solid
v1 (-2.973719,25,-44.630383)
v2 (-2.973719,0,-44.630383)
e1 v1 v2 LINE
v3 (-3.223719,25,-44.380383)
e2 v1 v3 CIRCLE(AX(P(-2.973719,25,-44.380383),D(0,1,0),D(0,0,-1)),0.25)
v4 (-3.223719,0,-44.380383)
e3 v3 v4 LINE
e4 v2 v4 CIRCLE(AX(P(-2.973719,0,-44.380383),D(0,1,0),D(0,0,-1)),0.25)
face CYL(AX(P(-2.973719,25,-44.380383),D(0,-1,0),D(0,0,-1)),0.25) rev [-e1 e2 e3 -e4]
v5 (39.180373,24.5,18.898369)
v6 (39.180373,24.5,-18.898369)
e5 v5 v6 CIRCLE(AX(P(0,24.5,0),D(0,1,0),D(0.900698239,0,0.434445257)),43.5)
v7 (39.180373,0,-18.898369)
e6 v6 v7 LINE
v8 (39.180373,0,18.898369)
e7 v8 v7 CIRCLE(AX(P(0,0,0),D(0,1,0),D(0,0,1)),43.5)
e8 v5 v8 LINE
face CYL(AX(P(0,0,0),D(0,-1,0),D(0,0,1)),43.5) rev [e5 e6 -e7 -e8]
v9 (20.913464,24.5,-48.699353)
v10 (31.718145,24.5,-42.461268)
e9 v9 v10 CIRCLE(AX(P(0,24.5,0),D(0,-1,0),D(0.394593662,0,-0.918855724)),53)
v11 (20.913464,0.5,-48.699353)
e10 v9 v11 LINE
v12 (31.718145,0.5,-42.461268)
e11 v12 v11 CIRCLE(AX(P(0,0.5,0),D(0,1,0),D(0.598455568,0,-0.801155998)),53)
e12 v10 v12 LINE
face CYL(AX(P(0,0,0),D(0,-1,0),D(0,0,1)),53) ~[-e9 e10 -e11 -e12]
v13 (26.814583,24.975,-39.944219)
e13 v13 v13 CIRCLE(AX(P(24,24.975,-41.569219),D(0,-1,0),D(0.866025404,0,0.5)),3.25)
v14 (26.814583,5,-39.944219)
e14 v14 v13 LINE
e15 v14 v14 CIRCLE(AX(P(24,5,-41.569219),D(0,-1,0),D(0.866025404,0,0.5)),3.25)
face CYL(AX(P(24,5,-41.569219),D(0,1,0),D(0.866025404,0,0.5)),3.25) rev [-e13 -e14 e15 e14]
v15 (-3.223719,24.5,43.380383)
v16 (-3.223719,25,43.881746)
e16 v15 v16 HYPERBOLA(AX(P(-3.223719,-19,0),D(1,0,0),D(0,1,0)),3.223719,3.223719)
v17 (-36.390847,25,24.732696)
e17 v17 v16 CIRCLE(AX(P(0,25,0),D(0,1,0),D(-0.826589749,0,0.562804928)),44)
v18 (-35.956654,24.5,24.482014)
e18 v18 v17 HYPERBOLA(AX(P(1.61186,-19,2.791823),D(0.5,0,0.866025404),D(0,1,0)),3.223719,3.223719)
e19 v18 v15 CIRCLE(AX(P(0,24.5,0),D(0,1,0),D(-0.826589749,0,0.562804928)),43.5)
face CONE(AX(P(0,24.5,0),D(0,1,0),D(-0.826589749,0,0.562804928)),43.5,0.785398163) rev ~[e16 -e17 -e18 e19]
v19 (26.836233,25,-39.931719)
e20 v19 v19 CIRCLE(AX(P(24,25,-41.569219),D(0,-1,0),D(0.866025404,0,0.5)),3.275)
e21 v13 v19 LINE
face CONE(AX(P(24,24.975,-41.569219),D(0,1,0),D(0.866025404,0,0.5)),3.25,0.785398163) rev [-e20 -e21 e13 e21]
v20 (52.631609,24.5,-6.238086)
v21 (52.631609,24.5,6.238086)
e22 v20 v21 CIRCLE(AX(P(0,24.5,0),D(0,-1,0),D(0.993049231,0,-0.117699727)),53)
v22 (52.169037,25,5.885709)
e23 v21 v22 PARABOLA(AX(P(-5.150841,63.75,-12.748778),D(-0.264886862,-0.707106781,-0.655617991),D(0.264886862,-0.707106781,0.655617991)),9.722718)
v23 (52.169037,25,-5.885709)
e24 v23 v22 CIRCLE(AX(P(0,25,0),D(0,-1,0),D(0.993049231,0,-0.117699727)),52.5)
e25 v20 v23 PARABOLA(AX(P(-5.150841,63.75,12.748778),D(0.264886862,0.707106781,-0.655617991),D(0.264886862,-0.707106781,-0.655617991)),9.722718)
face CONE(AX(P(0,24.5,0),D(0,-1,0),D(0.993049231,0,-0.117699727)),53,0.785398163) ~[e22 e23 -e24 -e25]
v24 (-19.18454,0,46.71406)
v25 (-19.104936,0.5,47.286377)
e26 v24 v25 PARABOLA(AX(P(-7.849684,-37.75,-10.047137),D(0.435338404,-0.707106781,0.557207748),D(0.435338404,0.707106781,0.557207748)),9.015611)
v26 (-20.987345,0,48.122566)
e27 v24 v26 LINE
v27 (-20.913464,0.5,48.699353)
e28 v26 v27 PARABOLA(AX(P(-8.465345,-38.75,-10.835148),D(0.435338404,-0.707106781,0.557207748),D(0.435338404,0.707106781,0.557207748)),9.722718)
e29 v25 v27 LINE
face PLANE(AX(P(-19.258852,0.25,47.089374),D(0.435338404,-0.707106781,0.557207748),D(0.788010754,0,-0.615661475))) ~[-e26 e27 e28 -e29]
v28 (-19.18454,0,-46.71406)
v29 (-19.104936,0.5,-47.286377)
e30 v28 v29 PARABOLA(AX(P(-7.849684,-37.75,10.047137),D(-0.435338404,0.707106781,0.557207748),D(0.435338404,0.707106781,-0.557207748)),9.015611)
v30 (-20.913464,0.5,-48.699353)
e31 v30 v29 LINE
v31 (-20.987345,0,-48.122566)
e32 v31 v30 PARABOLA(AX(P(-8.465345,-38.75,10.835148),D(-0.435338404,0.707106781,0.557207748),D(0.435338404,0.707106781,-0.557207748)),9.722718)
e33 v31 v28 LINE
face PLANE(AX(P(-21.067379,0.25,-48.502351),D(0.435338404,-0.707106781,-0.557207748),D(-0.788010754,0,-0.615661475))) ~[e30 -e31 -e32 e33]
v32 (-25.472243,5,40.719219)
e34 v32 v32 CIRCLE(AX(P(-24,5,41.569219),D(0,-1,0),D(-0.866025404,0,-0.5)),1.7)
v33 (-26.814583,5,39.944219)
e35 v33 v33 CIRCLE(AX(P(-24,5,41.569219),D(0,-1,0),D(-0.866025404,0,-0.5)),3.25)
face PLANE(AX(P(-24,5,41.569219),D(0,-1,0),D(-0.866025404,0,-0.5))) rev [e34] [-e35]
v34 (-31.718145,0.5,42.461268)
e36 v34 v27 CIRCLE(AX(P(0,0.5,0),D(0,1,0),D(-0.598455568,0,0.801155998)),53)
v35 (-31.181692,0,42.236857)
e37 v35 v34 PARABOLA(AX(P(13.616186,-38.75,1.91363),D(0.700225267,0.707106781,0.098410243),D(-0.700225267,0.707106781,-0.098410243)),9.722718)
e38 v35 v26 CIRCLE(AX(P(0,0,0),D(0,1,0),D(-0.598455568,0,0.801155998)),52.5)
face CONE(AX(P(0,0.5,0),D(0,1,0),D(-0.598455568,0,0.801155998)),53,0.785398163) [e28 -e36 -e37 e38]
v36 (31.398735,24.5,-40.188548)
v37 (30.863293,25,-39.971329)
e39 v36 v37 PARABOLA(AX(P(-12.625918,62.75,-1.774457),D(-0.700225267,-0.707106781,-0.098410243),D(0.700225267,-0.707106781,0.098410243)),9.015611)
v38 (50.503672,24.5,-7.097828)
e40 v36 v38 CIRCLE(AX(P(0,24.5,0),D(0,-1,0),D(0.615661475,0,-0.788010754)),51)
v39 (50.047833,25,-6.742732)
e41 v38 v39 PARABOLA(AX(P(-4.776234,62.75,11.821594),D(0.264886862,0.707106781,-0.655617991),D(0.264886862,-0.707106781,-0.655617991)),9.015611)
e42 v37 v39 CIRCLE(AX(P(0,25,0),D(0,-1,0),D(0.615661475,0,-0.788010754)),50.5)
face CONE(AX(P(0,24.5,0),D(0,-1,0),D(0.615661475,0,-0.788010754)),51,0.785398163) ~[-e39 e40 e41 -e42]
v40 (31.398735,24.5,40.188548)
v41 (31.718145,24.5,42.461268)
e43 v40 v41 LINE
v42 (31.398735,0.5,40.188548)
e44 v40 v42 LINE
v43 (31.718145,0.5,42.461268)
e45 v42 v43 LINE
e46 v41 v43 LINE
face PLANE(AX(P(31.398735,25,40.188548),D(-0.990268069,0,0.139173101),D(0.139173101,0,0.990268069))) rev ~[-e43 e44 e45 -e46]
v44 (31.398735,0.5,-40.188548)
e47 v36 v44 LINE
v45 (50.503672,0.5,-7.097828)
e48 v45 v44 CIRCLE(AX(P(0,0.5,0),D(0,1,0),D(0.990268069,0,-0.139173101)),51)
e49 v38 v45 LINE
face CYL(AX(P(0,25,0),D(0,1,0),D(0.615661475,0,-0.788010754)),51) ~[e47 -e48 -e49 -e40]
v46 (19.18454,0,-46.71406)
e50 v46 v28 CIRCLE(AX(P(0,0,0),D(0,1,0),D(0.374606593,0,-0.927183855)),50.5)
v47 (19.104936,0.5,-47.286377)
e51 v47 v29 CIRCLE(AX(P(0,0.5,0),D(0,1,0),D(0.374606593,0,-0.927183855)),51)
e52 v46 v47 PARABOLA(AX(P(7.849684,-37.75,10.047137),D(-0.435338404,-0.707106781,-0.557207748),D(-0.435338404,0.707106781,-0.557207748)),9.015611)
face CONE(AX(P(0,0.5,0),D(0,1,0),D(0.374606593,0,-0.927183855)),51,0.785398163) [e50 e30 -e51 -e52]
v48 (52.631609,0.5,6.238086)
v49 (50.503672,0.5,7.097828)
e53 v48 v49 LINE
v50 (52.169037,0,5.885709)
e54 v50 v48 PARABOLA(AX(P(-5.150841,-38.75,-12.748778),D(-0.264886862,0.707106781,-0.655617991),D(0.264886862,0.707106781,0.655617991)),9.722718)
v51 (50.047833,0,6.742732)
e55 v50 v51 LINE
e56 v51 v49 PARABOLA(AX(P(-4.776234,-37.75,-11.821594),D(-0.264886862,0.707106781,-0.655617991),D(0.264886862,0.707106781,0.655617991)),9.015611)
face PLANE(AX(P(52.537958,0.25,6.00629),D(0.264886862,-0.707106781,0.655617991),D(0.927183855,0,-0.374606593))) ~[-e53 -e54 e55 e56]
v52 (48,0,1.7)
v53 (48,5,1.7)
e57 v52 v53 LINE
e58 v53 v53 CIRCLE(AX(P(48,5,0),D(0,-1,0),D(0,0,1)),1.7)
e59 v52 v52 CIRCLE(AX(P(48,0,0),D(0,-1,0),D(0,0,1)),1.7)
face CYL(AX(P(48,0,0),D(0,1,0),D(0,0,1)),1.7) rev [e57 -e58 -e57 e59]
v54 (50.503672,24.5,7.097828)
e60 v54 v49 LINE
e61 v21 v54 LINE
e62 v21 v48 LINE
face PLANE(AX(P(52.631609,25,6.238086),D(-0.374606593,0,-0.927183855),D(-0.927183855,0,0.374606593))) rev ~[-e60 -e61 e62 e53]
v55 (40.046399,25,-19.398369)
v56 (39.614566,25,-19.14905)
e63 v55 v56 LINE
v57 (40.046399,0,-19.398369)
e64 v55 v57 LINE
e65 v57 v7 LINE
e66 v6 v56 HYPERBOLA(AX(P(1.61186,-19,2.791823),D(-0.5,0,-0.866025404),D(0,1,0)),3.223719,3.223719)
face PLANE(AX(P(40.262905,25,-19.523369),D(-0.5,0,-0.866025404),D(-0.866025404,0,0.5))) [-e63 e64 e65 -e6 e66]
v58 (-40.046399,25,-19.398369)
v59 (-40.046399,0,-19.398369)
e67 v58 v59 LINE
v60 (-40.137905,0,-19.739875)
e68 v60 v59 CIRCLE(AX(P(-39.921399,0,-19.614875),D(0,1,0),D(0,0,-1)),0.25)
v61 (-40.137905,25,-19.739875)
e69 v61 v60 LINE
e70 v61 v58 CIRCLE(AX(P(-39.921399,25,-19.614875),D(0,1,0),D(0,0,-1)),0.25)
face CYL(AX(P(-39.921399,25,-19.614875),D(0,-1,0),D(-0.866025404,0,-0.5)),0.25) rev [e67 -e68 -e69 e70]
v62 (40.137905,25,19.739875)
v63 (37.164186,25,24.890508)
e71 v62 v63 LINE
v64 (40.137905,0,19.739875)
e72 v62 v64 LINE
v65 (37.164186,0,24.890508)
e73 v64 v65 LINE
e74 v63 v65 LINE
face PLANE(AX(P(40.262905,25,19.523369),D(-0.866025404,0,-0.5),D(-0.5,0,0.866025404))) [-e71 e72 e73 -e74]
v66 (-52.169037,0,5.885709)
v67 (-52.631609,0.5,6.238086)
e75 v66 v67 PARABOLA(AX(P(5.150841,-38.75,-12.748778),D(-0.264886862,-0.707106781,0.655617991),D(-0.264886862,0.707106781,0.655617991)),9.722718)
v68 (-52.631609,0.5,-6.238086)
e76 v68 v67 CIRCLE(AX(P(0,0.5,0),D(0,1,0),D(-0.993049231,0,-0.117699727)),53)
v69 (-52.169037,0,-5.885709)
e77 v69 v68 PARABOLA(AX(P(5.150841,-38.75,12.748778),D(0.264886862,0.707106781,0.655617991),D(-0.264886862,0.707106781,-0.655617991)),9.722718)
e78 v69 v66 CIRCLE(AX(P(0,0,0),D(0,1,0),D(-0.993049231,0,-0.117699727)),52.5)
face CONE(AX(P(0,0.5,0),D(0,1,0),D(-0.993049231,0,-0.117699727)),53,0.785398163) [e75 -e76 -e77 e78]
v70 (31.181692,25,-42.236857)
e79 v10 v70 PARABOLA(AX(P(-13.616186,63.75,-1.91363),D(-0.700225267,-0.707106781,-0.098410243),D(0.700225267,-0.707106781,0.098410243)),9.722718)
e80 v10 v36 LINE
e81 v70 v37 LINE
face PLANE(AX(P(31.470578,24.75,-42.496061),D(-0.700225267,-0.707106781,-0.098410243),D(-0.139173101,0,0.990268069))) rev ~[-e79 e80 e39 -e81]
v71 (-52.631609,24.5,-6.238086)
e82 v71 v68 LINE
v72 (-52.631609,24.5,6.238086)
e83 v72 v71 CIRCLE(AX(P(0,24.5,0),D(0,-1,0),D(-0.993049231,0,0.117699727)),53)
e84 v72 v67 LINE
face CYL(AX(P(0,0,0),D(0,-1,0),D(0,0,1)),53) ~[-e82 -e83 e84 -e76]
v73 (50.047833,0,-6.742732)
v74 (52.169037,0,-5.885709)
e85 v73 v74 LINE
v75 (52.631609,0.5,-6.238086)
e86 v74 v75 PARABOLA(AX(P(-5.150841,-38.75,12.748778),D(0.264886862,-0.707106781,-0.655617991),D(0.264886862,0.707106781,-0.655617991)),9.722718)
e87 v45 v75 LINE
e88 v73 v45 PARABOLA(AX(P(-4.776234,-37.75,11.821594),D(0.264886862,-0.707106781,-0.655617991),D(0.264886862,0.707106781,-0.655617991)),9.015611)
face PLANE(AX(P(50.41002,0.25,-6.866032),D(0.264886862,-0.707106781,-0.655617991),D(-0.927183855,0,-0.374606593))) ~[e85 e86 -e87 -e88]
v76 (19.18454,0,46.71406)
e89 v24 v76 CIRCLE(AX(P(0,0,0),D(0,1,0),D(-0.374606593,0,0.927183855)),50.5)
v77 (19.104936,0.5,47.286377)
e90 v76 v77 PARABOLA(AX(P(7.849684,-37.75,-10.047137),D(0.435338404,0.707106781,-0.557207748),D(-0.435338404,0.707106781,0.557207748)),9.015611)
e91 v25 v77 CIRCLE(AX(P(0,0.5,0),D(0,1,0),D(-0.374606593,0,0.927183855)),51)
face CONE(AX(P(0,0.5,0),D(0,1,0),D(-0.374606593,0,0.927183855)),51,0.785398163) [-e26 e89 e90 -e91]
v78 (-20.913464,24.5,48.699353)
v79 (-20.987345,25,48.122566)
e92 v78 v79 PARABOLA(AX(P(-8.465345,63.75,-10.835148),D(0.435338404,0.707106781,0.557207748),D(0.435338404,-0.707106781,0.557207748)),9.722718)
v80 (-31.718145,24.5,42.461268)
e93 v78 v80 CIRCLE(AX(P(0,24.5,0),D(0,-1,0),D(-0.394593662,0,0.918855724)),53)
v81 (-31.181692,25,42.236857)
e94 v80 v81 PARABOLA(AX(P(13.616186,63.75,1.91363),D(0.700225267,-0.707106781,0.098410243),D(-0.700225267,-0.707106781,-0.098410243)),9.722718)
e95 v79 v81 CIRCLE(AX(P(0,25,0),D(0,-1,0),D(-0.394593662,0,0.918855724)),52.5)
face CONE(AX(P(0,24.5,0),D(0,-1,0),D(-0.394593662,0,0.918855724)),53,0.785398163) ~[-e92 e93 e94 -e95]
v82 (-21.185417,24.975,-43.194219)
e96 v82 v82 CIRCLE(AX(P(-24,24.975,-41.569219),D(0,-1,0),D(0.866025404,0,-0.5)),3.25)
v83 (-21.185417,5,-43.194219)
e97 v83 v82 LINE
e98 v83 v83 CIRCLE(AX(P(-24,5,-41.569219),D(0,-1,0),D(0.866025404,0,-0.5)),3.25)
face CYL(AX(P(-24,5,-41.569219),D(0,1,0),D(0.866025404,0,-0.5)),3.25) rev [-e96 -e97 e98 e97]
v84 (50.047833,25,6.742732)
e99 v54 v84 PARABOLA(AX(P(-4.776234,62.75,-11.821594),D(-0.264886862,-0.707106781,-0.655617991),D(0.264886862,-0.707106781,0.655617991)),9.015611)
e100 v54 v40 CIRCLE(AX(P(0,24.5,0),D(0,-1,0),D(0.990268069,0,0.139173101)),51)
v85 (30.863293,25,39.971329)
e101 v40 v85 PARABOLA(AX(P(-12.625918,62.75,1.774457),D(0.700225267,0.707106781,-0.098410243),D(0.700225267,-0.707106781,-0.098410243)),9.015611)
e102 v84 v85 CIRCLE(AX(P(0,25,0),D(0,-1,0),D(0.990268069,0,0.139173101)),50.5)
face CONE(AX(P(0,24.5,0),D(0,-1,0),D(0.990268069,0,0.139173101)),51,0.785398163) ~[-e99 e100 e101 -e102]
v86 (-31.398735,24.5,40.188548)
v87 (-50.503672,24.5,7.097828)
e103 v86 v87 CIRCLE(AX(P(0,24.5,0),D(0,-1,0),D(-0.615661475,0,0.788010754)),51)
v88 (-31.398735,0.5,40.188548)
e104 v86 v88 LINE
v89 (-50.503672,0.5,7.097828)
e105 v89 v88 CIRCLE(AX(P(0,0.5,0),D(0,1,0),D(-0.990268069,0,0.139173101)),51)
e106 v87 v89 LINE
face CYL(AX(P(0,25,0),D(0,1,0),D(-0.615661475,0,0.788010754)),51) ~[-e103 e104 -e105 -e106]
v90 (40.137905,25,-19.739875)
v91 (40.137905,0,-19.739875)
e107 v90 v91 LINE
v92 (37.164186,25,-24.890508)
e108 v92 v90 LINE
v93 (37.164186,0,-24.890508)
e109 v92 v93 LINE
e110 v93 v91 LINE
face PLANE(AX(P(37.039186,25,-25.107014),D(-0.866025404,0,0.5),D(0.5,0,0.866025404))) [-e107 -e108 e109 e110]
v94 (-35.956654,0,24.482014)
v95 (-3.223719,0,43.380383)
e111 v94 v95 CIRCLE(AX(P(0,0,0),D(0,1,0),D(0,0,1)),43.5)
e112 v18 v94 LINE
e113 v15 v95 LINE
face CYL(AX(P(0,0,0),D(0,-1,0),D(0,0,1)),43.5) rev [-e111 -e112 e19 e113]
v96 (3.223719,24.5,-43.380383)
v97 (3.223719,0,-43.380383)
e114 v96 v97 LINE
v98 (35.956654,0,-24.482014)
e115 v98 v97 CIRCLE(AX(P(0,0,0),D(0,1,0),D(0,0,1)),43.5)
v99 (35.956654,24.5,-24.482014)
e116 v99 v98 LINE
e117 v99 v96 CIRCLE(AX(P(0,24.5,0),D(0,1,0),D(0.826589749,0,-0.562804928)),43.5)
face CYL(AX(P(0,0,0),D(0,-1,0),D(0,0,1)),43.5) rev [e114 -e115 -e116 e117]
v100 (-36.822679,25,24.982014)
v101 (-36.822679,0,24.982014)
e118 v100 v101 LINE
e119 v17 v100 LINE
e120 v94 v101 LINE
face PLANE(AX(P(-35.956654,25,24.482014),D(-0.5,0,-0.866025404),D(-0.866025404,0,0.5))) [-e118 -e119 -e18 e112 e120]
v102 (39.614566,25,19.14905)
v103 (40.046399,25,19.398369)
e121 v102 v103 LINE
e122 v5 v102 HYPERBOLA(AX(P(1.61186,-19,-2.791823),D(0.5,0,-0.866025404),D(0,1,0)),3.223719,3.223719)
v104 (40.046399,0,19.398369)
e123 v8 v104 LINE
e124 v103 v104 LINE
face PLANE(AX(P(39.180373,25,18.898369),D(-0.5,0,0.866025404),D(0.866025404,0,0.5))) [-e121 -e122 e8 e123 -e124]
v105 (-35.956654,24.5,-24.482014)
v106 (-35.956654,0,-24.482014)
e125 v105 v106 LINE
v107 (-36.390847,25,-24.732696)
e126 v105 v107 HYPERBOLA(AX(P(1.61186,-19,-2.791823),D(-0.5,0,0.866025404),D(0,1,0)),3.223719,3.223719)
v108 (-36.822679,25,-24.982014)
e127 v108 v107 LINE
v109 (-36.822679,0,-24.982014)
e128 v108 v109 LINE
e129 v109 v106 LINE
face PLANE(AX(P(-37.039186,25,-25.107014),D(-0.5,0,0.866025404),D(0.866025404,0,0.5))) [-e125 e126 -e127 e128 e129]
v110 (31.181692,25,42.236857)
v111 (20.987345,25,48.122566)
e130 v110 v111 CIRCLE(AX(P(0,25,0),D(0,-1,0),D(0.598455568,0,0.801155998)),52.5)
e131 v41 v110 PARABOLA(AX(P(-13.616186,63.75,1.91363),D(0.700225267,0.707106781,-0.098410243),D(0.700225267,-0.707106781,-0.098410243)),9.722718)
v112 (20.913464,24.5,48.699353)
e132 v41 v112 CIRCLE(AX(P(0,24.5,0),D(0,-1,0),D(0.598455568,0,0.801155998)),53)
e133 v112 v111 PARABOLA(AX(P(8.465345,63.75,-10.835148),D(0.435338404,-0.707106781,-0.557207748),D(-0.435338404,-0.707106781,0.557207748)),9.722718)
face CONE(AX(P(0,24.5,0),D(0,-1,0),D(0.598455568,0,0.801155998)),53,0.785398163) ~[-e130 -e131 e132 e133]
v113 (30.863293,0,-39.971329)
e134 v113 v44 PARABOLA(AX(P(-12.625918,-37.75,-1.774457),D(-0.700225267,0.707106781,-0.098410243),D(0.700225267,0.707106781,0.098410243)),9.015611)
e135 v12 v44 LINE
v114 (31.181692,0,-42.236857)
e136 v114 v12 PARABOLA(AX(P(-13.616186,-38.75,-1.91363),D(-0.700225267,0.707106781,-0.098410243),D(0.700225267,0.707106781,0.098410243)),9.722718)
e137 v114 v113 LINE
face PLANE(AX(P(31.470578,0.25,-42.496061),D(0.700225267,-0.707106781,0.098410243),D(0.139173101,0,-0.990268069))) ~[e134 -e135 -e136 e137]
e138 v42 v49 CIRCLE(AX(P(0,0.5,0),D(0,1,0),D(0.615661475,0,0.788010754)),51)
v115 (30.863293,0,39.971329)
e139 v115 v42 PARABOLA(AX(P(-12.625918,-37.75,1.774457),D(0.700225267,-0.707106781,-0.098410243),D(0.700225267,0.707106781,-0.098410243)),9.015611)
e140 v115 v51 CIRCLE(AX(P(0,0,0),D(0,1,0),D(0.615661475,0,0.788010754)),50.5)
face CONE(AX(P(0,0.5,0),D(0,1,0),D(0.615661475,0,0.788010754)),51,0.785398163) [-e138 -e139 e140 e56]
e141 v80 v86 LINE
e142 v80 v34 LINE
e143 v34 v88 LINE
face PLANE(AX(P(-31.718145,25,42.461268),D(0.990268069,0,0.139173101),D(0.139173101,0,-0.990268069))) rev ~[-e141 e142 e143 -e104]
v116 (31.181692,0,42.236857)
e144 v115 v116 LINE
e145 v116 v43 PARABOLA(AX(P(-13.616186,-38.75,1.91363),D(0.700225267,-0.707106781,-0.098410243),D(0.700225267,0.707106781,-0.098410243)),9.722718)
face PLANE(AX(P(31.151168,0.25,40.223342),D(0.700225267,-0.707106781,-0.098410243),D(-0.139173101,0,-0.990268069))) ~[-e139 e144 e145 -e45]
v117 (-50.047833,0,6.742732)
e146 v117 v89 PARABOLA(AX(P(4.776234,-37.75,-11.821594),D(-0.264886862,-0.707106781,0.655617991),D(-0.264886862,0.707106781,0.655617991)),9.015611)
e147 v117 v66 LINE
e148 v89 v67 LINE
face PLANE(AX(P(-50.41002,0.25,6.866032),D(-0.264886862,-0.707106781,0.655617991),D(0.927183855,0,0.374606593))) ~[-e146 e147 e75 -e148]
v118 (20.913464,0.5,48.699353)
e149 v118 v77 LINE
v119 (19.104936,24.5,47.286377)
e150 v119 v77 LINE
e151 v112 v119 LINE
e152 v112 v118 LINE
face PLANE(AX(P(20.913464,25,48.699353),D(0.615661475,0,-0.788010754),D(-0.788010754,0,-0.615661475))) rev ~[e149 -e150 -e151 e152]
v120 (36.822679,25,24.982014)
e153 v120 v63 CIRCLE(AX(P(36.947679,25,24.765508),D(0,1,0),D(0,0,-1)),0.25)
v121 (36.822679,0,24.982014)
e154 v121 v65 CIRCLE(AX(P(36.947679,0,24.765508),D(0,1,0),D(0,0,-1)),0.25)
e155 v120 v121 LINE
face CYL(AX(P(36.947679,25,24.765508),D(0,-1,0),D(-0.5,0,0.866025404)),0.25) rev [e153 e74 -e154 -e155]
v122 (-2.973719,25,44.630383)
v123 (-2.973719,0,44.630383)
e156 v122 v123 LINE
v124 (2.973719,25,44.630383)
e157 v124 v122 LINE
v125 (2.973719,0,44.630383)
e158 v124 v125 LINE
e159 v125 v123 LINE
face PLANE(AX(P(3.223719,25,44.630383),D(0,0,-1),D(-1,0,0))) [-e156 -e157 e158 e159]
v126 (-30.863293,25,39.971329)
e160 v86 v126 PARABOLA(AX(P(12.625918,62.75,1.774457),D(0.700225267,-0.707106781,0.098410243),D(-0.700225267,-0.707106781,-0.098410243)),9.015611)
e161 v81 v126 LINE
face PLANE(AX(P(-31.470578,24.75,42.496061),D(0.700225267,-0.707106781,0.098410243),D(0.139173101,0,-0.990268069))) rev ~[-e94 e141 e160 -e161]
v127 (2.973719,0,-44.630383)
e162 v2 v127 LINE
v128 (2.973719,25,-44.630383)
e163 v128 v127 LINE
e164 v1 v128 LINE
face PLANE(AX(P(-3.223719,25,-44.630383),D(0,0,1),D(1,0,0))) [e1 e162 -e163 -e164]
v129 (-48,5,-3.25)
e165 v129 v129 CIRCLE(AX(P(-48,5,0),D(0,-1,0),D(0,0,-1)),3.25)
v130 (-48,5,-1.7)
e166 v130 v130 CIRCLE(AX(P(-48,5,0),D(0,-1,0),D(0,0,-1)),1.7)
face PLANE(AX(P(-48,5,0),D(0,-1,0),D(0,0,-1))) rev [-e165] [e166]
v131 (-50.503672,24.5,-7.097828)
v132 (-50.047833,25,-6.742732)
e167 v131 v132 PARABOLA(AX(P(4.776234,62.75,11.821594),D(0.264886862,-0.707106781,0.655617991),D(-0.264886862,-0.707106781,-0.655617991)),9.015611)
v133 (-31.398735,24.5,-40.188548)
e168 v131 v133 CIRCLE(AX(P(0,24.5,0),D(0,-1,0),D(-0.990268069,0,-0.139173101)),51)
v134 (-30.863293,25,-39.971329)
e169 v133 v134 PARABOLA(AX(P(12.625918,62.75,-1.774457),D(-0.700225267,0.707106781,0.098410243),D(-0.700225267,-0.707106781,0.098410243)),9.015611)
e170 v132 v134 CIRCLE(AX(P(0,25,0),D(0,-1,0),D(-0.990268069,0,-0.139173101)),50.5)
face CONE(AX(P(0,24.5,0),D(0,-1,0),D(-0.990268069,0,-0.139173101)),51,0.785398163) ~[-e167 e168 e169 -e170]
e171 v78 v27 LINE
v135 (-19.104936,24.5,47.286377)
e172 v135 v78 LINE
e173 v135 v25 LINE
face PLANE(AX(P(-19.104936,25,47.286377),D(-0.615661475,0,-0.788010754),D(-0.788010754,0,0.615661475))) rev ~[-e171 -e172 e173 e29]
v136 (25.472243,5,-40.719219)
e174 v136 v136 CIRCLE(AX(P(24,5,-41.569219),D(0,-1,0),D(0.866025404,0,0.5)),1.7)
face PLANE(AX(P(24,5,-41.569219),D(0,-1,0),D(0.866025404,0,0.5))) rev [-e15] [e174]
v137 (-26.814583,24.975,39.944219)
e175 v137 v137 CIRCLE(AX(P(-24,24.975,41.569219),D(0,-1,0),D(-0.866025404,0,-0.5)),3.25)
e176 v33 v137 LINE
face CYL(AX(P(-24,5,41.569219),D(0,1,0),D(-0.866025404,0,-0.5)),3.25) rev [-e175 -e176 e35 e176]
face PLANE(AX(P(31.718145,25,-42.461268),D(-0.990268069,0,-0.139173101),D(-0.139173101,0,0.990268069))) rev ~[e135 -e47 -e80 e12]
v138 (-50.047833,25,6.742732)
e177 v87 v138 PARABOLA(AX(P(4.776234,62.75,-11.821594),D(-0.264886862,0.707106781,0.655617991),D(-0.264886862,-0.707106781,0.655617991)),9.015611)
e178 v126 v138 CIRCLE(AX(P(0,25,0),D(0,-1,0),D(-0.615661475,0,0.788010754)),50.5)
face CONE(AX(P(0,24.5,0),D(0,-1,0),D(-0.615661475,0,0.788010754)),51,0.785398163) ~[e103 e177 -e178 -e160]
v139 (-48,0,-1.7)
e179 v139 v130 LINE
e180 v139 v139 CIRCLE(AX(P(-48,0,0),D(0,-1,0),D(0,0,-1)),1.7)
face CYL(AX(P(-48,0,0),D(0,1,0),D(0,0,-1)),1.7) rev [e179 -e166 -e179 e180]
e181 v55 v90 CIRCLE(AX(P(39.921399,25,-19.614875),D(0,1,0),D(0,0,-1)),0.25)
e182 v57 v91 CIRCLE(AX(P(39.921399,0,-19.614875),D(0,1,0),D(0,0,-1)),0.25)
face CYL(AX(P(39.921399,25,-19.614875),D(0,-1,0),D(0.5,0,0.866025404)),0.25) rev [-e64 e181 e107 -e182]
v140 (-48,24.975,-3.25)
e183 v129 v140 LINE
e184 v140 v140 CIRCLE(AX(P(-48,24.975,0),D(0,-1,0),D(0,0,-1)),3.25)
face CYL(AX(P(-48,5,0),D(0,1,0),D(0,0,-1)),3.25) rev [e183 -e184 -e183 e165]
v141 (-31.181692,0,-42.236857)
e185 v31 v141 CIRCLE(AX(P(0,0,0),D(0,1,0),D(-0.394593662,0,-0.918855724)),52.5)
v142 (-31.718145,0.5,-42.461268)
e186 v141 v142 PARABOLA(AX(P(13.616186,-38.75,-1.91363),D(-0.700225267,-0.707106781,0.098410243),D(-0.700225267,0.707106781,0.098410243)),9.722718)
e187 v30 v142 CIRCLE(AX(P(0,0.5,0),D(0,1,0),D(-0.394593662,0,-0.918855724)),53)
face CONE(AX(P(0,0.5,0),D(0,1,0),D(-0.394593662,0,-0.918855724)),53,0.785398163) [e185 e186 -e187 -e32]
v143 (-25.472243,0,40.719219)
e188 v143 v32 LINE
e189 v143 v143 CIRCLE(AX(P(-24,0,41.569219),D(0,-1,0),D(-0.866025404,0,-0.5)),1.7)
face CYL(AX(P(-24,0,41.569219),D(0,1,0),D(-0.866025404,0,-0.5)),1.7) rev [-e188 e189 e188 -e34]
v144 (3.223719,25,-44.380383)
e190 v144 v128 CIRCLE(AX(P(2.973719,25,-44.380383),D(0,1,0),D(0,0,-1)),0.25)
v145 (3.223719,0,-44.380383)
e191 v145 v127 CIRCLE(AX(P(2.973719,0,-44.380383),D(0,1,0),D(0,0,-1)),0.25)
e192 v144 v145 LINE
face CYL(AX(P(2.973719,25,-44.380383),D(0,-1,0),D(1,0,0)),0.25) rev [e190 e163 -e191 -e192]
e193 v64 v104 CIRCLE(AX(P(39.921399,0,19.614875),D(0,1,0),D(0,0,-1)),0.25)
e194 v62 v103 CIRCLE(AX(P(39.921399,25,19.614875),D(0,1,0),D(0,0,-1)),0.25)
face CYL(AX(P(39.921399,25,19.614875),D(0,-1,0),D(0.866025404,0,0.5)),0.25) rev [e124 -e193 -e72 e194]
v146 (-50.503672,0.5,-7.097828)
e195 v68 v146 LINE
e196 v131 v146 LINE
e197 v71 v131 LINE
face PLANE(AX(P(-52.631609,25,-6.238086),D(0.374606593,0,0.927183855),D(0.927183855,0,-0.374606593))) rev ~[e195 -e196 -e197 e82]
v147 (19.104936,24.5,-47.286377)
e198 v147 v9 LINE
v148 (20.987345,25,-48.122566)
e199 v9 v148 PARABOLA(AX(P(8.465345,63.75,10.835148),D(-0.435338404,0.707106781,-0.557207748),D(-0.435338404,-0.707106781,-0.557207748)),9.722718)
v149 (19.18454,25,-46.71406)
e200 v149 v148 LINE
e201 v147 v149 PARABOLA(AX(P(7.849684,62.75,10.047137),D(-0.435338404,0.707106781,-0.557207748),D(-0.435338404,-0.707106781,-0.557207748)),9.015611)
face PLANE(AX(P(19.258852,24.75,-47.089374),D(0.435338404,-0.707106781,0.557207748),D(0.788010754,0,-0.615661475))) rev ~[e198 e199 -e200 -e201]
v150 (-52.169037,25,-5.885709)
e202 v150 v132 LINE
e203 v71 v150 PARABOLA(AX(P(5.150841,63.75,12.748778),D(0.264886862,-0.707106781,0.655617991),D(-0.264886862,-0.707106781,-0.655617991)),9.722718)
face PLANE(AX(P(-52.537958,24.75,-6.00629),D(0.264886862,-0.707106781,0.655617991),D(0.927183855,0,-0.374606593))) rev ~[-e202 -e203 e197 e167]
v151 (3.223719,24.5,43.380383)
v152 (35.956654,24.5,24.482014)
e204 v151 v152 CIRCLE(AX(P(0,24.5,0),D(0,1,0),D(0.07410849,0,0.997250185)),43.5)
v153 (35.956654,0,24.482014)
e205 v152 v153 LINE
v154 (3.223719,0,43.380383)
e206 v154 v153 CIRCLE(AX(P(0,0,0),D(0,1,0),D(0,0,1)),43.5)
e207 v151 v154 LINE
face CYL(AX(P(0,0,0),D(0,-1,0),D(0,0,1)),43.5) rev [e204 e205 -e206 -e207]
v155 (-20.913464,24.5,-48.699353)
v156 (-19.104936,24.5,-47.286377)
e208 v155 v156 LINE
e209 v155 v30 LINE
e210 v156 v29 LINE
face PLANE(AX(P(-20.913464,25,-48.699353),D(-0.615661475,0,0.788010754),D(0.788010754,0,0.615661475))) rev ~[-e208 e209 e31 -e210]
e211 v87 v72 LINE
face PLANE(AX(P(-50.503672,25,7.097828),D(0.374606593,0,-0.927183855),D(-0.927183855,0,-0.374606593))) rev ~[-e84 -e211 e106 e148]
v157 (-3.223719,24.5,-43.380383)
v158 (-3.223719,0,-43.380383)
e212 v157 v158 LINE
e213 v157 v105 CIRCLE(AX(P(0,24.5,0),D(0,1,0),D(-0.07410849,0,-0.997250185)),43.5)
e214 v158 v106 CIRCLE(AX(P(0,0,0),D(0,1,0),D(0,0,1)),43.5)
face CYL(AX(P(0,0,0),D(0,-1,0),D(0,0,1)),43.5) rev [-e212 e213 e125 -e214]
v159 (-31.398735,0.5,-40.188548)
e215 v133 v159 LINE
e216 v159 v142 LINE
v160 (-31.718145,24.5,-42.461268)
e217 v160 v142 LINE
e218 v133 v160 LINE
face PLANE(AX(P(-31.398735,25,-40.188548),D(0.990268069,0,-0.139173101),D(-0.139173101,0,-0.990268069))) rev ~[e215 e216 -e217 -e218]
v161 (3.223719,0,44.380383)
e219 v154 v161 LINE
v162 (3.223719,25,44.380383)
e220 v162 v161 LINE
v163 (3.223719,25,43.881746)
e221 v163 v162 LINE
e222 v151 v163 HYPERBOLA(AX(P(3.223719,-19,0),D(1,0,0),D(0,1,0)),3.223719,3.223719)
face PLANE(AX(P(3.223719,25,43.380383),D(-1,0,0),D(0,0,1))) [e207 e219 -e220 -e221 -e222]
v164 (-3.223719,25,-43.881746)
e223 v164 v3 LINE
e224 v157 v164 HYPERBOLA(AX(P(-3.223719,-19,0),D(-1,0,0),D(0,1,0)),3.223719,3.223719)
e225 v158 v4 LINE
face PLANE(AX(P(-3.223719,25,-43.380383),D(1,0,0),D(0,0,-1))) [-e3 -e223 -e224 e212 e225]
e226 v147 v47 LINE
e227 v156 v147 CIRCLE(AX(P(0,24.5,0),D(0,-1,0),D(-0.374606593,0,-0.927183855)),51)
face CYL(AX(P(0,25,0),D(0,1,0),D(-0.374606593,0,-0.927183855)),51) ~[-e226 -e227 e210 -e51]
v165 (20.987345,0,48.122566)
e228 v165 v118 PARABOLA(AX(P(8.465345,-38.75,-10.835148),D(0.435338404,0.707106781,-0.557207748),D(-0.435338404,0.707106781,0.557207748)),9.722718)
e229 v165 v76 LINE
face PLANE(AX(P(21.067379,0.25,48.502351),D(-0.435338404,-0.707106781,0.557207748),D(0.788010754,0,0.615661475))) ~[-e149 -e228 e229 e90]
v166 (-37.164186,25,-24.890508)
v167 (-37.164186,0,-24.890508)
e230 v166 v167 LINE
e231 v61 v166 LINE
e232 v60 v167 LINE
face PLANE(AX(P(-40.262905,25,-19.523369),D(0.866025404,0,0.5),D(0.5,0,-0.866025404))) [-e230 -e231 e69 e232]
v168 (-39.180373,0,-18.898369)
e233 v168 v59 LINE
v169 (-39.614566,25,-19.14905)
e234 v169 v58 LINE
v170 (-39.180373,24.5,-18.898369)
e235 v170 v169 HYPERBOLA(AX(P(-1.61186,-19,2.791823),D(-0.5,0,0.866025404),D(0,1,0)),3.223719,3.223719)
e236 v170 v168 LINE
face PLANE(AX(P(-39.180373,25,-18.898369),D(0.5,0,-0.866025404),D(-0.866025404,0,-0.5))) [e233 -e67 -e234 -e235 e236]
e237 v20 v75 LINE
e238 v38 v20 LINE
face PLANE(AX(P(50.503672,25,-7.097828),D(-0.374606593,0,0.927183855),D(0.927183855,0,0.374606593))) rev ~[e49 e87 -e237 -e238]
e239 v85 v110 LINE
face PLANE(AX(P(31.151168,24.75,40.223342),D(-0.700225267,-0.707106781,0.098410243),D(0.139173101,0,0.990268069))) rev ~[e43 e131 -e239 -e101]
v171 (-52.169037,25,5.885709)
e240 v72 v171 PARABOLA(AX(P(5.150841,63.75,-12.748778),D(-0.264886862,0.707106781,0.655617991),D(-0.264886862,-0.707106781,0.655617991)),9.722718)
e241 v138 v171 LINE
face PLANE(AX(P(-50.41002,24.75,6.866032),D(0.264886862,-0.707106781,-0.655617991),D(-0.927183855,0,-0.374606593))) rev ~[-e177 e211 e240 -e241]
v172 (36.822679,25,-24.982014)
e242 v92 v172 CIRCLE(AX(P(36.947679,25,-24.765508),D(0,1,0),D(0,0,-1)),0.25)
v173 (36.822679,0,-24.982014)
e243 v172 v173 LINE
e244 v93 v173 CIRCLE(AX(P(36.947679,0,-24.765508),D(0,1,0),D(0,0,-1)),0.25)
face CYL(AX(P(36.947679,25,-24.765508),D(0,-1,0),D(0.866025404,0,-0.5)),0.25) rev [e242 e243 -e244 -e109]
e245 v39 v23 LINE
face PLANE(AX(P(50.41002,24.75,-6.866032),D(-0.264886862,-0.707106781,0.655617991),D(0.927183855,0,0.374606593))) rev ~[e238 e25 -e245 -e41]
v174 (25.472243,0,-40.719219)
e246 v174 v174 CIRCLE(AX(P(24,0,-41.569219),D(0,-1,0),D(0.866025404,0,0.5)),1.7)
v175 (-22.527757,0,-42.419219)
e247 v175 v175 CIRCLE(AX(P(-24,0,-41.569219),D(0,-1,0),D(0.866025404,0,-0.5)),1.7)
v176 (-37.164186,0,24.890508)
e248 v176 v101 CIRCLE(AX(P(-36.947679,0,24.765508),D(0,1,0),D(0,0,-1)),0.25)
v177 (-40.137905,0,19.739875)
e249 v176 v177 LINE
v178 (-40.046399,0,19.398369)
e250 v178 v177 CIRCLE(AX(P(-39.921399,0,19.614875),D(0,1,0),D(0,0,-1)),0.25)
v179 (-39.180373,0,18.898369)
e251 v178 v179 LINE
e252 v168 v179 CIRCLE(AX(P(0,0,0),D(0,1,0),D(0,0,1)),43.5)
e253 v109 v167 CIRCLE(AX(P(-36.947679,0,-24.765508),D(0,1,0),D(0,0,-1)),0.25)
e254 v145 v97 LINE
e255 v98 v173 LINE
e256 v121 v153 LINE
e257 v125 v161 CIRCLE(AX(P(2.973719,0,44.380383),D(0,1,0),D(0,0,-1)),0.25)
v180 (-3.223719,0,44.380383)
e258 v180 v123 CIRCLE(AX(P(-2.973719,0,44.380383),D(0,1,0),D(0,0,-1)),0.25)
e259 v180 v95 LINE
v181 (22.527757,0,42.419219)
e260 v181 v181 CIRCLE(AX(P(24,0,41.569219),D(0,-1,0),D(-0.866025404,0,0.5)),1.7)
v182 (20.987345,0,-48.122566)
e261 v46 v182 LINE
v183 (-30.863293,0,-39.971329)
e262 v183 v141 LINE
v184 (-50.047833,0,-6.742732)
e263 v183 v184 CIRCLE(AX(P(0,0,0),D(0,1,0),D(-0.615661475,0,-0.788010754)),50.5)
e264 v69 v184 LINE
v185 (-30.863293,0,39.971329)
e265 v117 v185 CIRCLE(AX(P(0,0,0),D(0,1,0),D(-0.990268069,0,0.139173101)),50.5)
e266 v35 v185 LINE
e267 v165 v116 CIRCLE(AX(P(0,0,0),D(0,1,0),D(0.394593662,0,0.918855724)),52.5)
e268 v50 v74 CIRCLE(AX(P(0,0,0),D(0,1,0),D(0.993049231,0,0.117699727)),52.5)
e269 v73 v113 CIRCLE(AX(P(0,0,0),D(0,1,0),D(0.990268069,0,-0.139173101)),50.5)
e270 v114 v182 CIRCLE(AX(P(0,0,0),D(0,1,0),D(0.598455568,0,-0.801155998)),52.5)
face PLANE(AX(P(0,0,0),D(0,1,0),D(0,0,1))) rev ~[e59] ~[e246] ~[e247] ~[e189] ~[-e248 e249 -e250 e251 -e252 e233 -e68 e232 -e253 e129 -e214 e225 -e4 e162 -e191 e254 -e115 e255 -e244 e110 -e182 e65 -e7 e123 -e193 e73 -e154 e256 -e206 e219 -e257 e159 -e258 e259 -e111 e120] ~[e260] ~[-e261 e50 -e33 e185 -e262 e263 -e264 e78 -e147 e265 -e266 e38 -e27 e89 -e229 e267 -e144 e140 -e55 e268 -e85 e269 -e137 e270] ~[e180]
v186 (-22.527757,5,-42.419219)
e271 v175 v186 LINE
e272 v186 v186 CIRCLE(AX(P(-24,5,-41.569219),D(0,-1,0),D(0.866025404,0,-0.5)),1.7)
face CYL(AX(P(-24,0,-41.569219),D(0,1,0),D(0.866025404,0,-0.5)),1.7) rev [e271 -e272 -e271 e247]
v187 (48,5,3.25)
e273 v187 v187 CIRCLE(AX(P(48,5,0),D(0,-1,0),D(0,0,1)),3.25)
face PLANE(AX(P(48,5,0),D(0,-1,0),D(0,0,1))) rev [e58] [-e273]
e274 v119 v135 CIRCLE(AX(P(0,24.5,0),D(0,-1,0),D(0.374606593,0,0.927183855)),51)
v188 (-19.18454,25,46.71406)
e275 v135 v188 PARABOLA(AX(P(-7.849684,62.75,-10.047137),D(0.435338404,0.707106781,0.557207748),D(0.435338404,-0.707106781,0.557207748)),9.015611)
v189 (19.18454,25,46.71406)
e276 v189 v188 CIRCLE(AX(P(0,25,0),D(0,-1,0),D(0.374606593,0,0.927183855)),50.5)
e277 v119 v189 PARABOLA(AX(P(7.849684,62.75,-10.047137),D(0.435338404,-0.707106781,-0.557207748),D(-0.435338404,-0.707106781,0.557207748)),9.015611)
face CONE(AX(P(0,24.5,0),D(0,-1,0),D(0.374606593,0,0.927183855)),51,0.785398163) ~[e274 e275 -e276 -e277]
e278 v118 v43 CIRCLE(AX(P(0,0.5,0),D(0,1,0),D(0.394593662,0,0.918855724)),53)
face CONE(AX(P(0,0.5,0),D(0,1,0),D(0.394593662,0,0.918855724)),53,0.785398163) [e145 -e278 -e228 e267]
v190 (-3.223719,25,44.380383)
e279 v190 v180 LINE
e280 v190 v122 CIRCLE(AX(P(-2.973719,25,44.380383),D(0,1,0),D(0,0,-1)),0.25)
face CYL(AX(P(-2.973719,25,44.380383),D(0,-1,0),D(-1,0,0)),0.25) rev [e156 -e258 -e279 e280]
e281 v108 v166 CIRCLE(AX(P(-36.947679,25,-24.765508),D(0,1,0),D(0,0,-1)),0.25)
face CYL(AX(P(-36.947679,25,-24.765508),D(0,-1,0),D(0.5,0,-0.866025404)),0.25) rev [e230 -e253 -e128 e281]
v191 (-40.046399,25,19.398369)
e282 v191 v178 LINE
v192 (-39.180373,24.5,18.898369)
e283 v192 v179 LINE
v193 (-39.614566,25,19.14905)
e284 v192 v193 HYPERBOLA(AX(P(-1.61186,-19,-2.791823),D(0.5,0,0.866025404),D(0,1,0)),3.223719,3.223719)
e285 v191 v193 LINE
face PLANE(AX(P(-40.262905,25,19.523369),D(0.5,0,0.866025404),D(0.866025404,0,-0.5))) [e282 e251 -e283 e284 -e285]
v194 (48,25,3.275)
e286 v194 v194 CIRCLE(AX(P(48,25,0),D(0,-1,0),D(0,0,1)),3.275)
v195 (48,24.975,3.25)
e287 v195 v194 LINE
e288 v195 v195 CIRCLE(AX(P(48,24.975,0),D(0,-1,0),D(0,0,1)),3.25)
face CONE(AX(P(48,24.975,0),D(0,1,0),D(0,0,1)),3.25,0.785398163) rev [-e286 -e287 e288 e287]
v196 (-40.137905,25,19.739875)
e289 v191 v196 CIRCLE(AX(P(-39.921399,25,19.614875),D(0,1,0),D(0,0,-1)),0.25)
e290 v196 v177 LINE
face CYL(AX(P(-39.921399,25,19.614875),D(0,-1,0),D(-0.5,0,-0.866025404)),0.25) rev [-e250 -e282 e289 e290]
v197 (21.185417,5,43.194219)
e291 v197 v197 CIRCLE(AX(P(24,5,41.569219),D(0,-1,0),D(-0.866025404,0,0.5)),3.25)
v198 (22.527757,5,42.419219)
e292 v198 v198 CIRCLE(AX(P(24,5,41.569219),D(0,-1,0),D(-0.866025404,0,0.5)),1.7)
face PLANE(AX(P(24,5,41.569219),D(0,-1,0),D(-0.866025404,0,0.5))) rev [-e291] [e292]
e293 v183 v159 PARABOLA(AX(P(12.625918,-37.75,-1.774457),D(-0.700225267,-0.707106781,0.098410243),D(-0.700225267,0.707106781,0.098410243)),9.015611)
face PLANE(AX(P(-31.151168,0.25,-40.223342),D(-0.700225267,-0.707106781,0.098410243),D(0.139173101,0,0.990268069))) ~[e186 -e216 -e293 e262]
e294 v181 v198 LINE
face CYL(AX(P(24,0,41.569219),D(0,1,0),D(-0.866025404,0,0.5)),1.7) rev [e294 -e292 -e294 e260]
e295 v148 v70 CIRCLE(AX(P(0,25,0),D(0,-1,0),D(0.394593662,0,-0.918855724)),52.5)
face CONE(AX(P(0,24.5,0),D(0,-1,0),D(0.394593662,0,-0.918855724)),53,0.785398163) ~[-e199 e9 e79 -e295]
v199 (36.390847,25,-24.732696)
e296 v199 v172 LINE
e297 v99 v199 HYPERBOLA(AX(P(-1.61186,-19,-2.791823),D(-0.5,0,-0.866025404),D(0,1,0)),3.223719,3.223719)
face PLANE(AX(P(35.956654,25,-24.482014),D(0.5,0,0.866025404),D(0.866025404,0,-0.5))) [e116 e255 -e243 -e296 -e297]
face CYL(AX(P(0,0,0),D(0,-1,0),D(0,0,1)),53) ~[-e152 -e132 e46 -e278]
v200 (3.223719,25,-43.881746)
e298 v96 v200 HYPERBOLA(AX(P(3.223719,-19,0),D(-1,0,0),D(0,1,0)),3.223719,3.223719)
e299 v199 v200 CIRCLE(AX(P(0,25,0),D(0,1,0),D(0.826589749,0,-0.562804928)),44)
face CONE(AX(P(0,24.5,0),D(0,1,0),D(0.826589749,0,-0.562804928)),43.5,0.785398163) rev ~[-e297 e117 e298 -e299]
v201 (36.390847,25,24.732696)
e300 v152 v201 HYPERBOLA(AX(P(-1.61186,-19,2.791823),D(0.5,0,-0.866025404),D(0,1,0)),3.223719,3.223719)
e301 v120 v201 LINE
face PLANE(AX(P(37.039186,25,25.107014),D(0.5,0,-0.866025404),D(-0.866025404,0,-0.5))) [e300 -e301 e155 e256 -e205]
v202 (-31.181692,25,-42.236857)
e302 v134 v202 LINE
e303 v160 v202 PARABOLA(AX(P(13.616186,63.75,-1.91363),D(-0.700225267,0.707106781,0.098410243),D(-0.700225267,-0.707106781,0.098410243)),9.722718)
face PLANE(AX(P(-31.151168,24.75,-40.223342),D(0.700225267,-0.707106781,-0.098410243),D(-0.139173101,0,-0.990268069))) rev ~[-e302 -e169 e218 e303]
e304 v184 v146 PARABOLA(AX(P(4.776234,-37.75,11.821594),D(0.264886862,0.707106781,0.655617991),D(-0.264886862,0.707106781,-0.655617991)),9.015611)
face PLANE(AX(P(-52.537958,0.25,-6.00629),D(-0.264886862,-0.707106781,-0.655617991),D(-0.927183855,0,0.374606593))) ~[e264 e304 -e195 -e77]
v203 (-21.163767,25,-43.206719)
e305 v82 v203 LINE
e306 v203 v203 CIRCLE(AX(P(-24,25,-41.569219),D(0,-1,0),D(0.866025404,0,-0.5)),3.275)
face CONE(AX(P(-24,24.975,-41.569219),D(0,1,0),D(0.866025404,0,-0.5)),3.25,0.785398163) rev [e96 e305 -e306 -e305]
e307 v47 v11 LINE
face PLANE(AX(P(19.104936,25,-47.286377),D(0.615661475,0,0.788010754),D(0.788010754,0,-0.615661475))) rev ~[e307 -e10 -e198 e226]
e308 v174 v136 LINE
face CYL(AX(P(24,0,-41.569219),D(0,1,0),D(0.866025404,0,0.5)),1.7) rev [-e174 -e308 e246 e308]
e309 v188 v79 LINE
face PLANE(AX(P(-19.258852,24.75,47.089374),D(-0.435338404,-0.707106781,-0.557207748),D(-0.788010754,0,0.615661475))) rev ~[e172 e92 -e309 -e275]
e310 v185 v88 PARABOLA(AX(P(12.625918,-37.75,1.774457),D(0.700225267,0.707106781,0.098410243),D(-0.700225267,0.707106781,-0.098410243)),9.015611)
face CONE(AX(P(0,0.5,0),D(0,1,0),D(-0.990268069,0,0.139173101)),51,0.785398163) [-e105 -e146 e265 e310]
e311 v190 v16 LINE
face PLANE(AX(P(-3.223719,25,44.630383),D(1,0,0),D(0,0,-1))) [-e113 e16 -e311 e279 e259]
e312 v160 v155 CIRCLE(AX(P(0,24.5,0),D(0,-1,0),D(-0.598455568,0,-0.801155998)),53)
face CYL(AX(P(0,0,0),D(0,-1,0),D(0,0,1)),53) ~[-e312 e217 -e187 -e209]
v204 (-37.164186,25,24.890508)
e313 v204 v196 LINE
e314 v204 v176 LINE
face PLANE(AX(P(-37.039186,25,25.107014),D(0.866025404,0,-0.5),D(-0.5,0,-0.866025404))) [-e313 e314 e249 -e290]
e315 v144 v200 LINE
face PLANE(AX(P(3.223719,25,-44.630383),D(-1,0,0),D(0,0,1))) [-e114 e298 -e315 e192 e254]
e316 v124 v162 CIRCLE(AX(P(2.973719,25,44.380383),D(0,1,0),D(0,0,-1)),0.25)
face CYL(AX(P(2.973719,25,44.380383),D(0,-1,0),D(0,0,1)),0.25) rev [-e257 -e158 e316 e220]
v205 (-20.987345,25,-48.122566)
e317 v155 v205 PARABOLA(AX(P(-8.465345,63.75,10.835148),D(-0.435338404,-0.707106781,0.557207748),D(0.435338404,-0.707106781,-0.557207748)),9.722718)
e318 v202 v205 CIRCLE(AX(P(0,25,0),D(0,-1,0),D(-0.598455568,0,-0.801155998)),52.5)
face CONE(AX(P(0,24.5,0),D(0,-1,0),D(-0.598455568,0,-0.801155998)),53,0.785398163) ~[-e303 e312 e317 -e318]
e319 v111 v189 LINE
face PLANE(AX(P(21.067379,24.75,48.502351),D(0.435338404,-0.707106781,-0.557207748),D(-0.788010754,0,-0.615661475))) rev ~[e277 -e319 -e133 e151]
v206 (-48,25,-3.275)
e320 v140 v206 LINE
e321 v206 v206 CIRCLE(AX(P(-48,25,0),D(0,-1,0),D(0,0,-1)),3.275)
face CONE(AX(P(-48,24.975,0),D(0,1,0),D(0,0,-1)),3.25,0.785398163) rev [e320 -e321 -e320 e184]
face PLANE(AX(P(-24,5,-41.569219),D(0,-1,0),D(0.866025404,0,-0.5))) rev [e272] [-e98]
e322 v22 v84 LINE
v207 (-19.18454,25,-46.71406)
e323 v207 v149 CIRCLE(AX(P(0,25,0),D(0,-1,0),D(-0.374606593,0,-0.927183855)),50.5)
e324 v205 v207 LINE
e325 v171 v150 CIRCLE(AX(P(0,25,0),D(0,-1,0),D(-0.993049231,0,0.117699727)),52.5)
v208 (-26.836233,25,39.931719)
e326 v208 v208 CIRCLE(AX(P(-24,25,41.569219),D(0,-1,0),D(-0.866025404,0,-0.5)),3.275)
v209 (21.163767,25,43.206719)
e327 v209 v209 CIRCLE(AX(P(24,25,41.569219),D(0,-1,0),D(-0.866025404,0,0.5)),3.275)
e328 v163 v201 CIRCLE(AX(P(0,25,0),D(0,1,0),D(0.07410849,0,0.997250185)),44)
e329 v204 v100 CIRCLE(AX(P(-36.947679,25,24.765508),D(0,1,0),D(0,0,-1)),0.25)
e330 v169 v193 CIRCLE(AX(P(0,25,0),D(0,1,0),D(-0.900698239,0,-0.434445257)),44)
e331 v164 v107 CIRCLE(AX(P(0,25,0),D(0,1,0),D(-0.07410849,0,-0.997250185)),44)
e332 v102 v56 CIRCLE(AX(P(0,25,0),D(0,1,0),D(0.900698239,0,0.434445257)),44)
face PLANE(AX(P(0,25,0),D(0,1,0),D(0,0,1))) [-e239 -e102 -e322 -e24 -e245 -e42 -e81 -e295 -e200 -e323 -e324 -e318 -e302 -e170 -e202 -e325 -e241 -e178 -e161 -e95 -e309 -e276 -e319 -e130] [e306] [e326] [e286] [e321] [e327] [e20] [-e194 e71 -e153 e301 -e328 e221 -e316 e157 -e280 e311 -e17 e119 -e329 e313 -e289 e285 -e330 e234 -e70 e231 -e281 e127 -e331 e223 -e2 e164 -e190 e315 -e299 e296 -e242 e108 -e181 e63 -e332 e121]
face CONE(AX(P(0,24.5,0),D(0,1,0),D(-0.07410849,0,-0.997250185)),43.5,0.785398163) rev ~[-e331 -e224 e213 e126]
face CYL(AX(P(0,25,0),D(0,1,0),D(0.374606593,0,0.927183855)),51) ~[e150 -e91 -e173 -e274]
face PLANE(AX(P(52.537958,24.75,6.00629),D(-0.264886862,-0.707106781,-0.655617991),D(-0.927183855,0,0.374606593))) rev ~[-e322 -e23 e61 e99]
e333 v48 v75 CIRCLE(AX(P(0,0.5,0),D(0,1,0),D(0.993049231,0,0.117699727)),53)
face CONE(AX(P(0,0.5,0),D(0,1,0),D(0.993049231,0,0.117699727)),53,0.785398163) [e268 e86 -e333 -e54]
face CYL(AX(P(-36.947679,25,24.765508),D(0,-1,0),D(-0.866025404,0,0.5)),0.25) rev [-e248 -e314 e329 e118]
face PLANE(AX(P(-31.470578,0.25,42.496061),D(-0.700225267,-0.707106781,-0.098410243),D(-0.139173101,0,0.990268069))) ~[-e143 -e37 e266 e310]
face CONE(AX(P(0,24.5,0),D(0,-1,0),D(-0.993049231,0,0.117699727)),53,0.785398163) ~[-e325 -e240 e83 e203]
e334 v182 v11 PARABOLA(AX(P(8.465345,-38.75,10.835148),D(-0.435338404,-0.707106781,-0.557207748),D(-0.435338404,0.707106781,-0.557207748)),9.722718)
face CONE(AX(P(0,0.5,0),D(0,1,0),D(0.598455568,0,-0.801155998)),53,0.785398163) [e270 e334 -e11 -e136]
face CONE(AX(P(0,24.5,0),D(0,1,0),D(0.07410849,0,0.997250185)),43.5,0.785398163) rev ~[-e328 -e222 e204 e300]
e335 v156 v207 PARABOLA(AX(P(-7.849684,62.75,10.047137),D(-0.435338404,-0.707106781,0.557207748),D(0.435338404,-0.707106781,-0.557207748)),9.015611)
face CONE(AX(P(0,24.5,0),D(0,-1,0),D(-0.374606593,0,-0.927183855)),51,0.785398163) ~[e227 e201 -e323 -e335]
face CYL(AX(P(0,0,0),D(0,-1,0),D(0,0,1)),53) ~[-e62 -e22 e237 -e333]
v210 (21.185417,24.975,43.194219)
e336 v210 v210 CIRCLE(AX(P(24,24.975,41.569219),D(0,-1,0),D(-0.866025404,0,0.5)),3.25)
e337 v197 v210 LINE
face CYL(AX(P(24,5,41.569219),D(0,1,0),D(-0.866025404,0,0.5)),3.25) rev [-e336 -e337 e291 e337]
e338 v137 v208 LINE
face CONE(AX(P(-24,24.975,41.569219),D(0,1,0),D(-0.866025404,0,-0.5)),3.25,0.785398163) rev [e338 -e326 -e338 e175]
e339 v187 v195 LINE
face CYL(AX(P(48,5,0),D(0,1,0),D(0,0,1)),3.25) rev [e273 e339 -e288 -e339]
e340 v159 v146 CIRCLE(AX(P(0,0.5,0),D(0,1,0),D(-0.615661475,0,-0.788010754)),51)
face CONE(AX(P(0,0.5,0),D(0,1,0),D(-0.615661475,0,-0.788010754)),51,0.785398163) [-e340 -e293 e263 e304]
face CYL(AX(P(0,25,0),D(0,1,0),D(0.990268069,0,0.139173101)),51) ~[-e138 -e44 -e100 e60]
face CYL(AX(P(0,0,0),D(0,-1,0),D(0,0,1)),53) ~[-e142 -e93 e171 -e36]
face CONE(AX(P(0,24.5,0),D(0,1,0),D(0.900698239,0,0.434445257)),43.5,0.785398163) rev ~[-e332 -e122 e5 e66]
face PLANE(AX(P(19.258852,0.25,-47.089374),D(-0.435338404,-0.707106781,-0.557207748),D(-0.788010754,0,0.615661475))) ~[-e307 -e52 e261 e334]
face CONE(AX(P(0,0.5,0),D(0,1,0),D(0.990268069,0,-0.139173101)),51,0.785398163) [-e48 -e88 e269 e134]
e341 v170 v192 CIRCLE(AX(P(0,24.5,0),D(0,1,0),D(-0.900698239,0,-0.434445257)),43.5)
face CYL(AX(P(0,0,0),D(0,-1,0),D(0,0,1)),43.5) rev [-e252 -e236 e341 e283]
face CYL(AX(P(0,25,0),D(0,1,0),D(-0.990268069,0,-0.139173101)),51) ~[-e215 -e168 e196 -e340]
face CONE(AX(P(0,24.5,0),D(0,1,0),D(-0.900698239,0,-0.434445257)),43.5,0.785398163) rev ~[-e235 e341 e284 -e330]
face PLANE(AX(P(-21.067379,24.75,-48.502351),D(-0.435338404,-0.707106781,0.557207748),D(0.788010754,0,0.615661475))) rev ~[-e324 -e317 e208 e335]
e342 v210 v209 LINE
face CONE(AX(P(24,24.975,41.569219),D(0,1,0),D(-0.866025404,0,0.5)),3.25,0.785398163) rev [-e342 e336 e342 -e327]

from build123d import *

# Parameters (mm, degrees)
BODY_SKETCH_R                           = 53
BODY_SKETCH_R_2                         = 43.5
BODY_DEPTH                              = 25
SIDE_CUTOUTS_DEPTH                      = 80.012657213892
DRIVING_CUTOUT_DEPTH                    = 80.012657213892
DRIVING_CUTOUT_FILLET_R                 = 0.25
MAIN_PATTERN_COUNT                      = 6
DRIVING_CUTOUT_FILLET_OF_MAIN_PATTERN_R = 0.25
OVERALL_CHAMFER_SIZE                    = 0.5


with BuildPart() as part:
    # body_sketch → body (new body)
    with BuildSketch(Plane(origin=(0, 0, 0), x_dir=(1, 0, 0), z_dir=(0, 1, 0))):
        with Locations(Location((0, 0, 0), (0, 0, 270))):
            Circle(BODY_SKETCH_R)
        with Locations(Location((0, 0, 0), (0, 0, 270))):
            Circle(BODY_SKETCH_R_2, mode=Mode.SUBTRACT)
    extrude(amount=BODY_DEPTH)

    # Sketch4 → spring_screw_hole (revolve, cut)
    with BuildSketch(Plane(origin=(48, 25, 0), x_dir=(0, 0, 1), z_dir=(1, 0, 0))):
        Polygon((0, 0), (-6.12e-15, 25), (1.6999999999999937, 25), (1.6999999999999953, 20), (3.249999999999998, 20), (3.2499999999999996, 0.02500000000000014), (3.2750000000000004, -3.47e-15), align=None)
    spring_screw_hole = revolve(axis=Axis((48, 31.34999999999999, 0), (0, -1, 0)), mode=Mode.SUBTRACT)

    # Sketch5 → side_cutouts (cut, through all)
    with BuildSketch(Plane(origin=(0, 25, 0), x_dir=(1, 0, 0), z_dir=(0, 1, 0))):
        with BuildLine():
            Line((50.50367150582007, 7.0978281489633614), (52.63160922139086, 6.238085504929012))
            ThreePointArc((52.63160922139086, 6.238085504929012), (45.89934640057521, 26.50000000000007), (31.718145128943295, 42.461267875315386))
            Line((31.718145128943295, 42.461267875315386), (31.398735241608467, 40.188548433942906))
            ThreePointArc((31.398735241608467, 40.188548433942906), (44.16729559300632, 25.50000000000007), (50.50367150582007, 7.0978281489633614))
        make_face()
    side_cutouts = extrude(amount=-SIDE_CUTOUTS_DEPTH, mode=Mode.SUBTRACT)

    # Sketch6 → driving_cutout (cut, through all)
    with BuildSketch(Plane(origin=(0, 25, 0), x_dir=(1, 0, 0), z_dir=(0, 1, 0))):
        Polygon((39.180373410532546, 18.898368697092206), (35.95665408703264, 24.48201435473557), (37.03918584176319, 25.107014354735572), (40.26290516526309, 19.52336869709221), align=None)
    driving_cutout = extrude(amount=-DRIVING_CUTOUT_DEPTH, mode=Mode.SUBTRACT)

    # driving_cutout_fillet
    driving_cutout_fillet_edges = [part.edges().sort_by_distance(p)[0] for p in [
        (40.26290516526309, 12.5, -19.52336869709221),
        (37.03918584176319, 12.5, -25.107014354735572),
    ]]
    fillet(driving_cutout_fillet_edges, radius=DRIVING_CUTOUT_FILLET_R)

    # main_pattern: spring_screw_hole, side_cutouts, driving_cutout ×6 about axis
    main_pattern_axis = Axis((-6.81e-15, 0, -3.023e-14), (0, 1, 0))
    add([spring_screw_hole.rotate(main_pattern_axis, i * 360 / MAIN_PATTERN_COUNT) for i in range(1, MAIN_PATTERN_COUNT)], mode=Mode.SUBTRACT)
    add([side_cutouts.rotate(main_pattern_axis, i * 360 / MAIN_PATTERN_COUNT) for i in range(1, MAIN_PATTERN_COUNT)], mode=Mode.SUBTRACT)
    add([driving_cutout.rotate(main_pattern_axis, i * 360 / MAIN_PATTERN_COUNT) for i in range(1, MAIN_PATTERN_COUNT)], mode=Mode.SUBTRACT)

    # driving_cutout_fillet of main_pattern
    driving_cutout_fillet_of_main_pattern_edges = [part.edges().sort_by_distance(p)[0] for p in [
        (3.223719323499823, 12.5, -44.63038305182766),
        (-3.223719323499948, 12.5, -44.63038305182764),
        (-37.03918584176327, 12.5, -25.10701435473548),
        (-40.26290516526315, 12.5, -19.523368697092106),
        (-40.262905165263106, 12.5, 19.523368697092145),
        (-37.03918584176321, 12.5, 25.107014354735508),
        (-3.2237193234998545, 12.5, 44.630383051827586),
        (3.223719323499913, 12.5, 44.63038305182758),
        (37.03918584176327, 12.5, 25.107014354735416),
        (40.26290516526314, 12.5, 19.523368697092028),
    ]]
    fillet(driving_cutout_fillet_of_main_pattern_edges, radius=DRIVING_CUTOUT_FILLET_OF_MAIN_PATTERN_R)

    # overall_chamfer
    overall_chamfer_edges = [part.edges().sort_by_distance(p)[0] for p in [
        (-26.50000000000005, 25, -45.89934640057521),
        (-53, 25, 4.441e-14),
        (-26.49999999999998, 25, 45.89934640057526),
        (26.50000000000005, 25, 45.89934640057522),
        (53, 25, -8.882e-14),
        (-26.500000000000234, 0, -45.89934640057511),
        (-53, 0, 3.4461e-13),
        (-26.499999999999897, 0, 45.899346400575304),
        (26.499999999999336, 0, 45.89934640057564),
        (53, 0, -7.6383e-13),
        (-4.866e-14, 0, -51),
        (-20.00920017832957, -3.55e-15, -47.992864981575195),
        (20.009200178329486, -3.55e-15, -47.99286498157525),
        (-4.828e-14, 25, -51.00000000000001),
        (20.009200178329486, 25, -47.992864981575245),
        (-20.00920017832958, 25, -47.992864981575195),
        (-44.16729559300637, 0, -25.499999999999982),
        (-51.56764036360546, 0, -6.6679568269460905),
        (-31.558440185275984, 0, -41.3249081546291),
        (-44.16729559300637, 25, -25.499999999999986),
        (-31.558440185275984, 25, -41.3249081546291),
        (-51.56764036360547, 25, -6.667956826946094),
        (-44.167295593006365, 0, 25.499999999999954),
        (-31.5584401852759, -3.55e-15, 41.32490815462907),
        (-51.56764036360548, 0, 6.667956826946121),
        (-44.16729559300633, 25, 25.49999999999999),
        (-51.56764036360548, 25, 6.66795682694612),
        (-31.5584401852759, 25, 41.32490815462907),
        (1.728e-14, 0, 50.99999999999995),
        (20.009200178329543, 0, 47.99286498157514),
        (-20.009200178329515, -3.55e-15, 47.99286498157518),
        (1.334e-14, 25, 50.99999999999994),
        (-20.009200178329515, 25, 47.99286498157518),
        (20.009200178329543, 25, 47.99286498157514),
        (44.167295593006365, 0, 25.499999999999908),
        (51.56764036360546, 0, 6.667956826946016),
        (31.55844018527599, 0, 41.324908154629036),
        (44.167295593006365, 25, 25.499999999999908),
        (31.558440185275984, 25, 41.324908154629036),
        (51.567640363605456, 25, 6.667956826946016),
        (-21.750000000000043, 25, -37.67210506462306),
        (-43.5, 25, 2.753e-14),
        (-21.74999999999997, 25, 37.672105064623096),
        (21.75000000000005, 25, 37.672105064623054),
        (43.5, 25, -7.994e-14),
        (26.499999999999932, 25, -45.89934640057529),
        (26.499999999999876, 0, -45.899346400575325),
        (44.167295593006315, 0, -25.500000000000057),
        (31.55844018527588, -3.55e-15, -41.32490815462914),
        (51.56764036360546, 0, -6.667956826946186),
        (44.167295593006315, 25, -25.500000000000057),
        (51.56764036360546, 25, -6.667956826946186),
        (31.55844018527588, 25, -41.32490815462914),
        (21.74999999999994, 25, -37.67210506462312),
    ]]
    chamfer(overall_chamfer_edges, length=OVERALL_CHAMFER_SIZE)


solid = part.part
